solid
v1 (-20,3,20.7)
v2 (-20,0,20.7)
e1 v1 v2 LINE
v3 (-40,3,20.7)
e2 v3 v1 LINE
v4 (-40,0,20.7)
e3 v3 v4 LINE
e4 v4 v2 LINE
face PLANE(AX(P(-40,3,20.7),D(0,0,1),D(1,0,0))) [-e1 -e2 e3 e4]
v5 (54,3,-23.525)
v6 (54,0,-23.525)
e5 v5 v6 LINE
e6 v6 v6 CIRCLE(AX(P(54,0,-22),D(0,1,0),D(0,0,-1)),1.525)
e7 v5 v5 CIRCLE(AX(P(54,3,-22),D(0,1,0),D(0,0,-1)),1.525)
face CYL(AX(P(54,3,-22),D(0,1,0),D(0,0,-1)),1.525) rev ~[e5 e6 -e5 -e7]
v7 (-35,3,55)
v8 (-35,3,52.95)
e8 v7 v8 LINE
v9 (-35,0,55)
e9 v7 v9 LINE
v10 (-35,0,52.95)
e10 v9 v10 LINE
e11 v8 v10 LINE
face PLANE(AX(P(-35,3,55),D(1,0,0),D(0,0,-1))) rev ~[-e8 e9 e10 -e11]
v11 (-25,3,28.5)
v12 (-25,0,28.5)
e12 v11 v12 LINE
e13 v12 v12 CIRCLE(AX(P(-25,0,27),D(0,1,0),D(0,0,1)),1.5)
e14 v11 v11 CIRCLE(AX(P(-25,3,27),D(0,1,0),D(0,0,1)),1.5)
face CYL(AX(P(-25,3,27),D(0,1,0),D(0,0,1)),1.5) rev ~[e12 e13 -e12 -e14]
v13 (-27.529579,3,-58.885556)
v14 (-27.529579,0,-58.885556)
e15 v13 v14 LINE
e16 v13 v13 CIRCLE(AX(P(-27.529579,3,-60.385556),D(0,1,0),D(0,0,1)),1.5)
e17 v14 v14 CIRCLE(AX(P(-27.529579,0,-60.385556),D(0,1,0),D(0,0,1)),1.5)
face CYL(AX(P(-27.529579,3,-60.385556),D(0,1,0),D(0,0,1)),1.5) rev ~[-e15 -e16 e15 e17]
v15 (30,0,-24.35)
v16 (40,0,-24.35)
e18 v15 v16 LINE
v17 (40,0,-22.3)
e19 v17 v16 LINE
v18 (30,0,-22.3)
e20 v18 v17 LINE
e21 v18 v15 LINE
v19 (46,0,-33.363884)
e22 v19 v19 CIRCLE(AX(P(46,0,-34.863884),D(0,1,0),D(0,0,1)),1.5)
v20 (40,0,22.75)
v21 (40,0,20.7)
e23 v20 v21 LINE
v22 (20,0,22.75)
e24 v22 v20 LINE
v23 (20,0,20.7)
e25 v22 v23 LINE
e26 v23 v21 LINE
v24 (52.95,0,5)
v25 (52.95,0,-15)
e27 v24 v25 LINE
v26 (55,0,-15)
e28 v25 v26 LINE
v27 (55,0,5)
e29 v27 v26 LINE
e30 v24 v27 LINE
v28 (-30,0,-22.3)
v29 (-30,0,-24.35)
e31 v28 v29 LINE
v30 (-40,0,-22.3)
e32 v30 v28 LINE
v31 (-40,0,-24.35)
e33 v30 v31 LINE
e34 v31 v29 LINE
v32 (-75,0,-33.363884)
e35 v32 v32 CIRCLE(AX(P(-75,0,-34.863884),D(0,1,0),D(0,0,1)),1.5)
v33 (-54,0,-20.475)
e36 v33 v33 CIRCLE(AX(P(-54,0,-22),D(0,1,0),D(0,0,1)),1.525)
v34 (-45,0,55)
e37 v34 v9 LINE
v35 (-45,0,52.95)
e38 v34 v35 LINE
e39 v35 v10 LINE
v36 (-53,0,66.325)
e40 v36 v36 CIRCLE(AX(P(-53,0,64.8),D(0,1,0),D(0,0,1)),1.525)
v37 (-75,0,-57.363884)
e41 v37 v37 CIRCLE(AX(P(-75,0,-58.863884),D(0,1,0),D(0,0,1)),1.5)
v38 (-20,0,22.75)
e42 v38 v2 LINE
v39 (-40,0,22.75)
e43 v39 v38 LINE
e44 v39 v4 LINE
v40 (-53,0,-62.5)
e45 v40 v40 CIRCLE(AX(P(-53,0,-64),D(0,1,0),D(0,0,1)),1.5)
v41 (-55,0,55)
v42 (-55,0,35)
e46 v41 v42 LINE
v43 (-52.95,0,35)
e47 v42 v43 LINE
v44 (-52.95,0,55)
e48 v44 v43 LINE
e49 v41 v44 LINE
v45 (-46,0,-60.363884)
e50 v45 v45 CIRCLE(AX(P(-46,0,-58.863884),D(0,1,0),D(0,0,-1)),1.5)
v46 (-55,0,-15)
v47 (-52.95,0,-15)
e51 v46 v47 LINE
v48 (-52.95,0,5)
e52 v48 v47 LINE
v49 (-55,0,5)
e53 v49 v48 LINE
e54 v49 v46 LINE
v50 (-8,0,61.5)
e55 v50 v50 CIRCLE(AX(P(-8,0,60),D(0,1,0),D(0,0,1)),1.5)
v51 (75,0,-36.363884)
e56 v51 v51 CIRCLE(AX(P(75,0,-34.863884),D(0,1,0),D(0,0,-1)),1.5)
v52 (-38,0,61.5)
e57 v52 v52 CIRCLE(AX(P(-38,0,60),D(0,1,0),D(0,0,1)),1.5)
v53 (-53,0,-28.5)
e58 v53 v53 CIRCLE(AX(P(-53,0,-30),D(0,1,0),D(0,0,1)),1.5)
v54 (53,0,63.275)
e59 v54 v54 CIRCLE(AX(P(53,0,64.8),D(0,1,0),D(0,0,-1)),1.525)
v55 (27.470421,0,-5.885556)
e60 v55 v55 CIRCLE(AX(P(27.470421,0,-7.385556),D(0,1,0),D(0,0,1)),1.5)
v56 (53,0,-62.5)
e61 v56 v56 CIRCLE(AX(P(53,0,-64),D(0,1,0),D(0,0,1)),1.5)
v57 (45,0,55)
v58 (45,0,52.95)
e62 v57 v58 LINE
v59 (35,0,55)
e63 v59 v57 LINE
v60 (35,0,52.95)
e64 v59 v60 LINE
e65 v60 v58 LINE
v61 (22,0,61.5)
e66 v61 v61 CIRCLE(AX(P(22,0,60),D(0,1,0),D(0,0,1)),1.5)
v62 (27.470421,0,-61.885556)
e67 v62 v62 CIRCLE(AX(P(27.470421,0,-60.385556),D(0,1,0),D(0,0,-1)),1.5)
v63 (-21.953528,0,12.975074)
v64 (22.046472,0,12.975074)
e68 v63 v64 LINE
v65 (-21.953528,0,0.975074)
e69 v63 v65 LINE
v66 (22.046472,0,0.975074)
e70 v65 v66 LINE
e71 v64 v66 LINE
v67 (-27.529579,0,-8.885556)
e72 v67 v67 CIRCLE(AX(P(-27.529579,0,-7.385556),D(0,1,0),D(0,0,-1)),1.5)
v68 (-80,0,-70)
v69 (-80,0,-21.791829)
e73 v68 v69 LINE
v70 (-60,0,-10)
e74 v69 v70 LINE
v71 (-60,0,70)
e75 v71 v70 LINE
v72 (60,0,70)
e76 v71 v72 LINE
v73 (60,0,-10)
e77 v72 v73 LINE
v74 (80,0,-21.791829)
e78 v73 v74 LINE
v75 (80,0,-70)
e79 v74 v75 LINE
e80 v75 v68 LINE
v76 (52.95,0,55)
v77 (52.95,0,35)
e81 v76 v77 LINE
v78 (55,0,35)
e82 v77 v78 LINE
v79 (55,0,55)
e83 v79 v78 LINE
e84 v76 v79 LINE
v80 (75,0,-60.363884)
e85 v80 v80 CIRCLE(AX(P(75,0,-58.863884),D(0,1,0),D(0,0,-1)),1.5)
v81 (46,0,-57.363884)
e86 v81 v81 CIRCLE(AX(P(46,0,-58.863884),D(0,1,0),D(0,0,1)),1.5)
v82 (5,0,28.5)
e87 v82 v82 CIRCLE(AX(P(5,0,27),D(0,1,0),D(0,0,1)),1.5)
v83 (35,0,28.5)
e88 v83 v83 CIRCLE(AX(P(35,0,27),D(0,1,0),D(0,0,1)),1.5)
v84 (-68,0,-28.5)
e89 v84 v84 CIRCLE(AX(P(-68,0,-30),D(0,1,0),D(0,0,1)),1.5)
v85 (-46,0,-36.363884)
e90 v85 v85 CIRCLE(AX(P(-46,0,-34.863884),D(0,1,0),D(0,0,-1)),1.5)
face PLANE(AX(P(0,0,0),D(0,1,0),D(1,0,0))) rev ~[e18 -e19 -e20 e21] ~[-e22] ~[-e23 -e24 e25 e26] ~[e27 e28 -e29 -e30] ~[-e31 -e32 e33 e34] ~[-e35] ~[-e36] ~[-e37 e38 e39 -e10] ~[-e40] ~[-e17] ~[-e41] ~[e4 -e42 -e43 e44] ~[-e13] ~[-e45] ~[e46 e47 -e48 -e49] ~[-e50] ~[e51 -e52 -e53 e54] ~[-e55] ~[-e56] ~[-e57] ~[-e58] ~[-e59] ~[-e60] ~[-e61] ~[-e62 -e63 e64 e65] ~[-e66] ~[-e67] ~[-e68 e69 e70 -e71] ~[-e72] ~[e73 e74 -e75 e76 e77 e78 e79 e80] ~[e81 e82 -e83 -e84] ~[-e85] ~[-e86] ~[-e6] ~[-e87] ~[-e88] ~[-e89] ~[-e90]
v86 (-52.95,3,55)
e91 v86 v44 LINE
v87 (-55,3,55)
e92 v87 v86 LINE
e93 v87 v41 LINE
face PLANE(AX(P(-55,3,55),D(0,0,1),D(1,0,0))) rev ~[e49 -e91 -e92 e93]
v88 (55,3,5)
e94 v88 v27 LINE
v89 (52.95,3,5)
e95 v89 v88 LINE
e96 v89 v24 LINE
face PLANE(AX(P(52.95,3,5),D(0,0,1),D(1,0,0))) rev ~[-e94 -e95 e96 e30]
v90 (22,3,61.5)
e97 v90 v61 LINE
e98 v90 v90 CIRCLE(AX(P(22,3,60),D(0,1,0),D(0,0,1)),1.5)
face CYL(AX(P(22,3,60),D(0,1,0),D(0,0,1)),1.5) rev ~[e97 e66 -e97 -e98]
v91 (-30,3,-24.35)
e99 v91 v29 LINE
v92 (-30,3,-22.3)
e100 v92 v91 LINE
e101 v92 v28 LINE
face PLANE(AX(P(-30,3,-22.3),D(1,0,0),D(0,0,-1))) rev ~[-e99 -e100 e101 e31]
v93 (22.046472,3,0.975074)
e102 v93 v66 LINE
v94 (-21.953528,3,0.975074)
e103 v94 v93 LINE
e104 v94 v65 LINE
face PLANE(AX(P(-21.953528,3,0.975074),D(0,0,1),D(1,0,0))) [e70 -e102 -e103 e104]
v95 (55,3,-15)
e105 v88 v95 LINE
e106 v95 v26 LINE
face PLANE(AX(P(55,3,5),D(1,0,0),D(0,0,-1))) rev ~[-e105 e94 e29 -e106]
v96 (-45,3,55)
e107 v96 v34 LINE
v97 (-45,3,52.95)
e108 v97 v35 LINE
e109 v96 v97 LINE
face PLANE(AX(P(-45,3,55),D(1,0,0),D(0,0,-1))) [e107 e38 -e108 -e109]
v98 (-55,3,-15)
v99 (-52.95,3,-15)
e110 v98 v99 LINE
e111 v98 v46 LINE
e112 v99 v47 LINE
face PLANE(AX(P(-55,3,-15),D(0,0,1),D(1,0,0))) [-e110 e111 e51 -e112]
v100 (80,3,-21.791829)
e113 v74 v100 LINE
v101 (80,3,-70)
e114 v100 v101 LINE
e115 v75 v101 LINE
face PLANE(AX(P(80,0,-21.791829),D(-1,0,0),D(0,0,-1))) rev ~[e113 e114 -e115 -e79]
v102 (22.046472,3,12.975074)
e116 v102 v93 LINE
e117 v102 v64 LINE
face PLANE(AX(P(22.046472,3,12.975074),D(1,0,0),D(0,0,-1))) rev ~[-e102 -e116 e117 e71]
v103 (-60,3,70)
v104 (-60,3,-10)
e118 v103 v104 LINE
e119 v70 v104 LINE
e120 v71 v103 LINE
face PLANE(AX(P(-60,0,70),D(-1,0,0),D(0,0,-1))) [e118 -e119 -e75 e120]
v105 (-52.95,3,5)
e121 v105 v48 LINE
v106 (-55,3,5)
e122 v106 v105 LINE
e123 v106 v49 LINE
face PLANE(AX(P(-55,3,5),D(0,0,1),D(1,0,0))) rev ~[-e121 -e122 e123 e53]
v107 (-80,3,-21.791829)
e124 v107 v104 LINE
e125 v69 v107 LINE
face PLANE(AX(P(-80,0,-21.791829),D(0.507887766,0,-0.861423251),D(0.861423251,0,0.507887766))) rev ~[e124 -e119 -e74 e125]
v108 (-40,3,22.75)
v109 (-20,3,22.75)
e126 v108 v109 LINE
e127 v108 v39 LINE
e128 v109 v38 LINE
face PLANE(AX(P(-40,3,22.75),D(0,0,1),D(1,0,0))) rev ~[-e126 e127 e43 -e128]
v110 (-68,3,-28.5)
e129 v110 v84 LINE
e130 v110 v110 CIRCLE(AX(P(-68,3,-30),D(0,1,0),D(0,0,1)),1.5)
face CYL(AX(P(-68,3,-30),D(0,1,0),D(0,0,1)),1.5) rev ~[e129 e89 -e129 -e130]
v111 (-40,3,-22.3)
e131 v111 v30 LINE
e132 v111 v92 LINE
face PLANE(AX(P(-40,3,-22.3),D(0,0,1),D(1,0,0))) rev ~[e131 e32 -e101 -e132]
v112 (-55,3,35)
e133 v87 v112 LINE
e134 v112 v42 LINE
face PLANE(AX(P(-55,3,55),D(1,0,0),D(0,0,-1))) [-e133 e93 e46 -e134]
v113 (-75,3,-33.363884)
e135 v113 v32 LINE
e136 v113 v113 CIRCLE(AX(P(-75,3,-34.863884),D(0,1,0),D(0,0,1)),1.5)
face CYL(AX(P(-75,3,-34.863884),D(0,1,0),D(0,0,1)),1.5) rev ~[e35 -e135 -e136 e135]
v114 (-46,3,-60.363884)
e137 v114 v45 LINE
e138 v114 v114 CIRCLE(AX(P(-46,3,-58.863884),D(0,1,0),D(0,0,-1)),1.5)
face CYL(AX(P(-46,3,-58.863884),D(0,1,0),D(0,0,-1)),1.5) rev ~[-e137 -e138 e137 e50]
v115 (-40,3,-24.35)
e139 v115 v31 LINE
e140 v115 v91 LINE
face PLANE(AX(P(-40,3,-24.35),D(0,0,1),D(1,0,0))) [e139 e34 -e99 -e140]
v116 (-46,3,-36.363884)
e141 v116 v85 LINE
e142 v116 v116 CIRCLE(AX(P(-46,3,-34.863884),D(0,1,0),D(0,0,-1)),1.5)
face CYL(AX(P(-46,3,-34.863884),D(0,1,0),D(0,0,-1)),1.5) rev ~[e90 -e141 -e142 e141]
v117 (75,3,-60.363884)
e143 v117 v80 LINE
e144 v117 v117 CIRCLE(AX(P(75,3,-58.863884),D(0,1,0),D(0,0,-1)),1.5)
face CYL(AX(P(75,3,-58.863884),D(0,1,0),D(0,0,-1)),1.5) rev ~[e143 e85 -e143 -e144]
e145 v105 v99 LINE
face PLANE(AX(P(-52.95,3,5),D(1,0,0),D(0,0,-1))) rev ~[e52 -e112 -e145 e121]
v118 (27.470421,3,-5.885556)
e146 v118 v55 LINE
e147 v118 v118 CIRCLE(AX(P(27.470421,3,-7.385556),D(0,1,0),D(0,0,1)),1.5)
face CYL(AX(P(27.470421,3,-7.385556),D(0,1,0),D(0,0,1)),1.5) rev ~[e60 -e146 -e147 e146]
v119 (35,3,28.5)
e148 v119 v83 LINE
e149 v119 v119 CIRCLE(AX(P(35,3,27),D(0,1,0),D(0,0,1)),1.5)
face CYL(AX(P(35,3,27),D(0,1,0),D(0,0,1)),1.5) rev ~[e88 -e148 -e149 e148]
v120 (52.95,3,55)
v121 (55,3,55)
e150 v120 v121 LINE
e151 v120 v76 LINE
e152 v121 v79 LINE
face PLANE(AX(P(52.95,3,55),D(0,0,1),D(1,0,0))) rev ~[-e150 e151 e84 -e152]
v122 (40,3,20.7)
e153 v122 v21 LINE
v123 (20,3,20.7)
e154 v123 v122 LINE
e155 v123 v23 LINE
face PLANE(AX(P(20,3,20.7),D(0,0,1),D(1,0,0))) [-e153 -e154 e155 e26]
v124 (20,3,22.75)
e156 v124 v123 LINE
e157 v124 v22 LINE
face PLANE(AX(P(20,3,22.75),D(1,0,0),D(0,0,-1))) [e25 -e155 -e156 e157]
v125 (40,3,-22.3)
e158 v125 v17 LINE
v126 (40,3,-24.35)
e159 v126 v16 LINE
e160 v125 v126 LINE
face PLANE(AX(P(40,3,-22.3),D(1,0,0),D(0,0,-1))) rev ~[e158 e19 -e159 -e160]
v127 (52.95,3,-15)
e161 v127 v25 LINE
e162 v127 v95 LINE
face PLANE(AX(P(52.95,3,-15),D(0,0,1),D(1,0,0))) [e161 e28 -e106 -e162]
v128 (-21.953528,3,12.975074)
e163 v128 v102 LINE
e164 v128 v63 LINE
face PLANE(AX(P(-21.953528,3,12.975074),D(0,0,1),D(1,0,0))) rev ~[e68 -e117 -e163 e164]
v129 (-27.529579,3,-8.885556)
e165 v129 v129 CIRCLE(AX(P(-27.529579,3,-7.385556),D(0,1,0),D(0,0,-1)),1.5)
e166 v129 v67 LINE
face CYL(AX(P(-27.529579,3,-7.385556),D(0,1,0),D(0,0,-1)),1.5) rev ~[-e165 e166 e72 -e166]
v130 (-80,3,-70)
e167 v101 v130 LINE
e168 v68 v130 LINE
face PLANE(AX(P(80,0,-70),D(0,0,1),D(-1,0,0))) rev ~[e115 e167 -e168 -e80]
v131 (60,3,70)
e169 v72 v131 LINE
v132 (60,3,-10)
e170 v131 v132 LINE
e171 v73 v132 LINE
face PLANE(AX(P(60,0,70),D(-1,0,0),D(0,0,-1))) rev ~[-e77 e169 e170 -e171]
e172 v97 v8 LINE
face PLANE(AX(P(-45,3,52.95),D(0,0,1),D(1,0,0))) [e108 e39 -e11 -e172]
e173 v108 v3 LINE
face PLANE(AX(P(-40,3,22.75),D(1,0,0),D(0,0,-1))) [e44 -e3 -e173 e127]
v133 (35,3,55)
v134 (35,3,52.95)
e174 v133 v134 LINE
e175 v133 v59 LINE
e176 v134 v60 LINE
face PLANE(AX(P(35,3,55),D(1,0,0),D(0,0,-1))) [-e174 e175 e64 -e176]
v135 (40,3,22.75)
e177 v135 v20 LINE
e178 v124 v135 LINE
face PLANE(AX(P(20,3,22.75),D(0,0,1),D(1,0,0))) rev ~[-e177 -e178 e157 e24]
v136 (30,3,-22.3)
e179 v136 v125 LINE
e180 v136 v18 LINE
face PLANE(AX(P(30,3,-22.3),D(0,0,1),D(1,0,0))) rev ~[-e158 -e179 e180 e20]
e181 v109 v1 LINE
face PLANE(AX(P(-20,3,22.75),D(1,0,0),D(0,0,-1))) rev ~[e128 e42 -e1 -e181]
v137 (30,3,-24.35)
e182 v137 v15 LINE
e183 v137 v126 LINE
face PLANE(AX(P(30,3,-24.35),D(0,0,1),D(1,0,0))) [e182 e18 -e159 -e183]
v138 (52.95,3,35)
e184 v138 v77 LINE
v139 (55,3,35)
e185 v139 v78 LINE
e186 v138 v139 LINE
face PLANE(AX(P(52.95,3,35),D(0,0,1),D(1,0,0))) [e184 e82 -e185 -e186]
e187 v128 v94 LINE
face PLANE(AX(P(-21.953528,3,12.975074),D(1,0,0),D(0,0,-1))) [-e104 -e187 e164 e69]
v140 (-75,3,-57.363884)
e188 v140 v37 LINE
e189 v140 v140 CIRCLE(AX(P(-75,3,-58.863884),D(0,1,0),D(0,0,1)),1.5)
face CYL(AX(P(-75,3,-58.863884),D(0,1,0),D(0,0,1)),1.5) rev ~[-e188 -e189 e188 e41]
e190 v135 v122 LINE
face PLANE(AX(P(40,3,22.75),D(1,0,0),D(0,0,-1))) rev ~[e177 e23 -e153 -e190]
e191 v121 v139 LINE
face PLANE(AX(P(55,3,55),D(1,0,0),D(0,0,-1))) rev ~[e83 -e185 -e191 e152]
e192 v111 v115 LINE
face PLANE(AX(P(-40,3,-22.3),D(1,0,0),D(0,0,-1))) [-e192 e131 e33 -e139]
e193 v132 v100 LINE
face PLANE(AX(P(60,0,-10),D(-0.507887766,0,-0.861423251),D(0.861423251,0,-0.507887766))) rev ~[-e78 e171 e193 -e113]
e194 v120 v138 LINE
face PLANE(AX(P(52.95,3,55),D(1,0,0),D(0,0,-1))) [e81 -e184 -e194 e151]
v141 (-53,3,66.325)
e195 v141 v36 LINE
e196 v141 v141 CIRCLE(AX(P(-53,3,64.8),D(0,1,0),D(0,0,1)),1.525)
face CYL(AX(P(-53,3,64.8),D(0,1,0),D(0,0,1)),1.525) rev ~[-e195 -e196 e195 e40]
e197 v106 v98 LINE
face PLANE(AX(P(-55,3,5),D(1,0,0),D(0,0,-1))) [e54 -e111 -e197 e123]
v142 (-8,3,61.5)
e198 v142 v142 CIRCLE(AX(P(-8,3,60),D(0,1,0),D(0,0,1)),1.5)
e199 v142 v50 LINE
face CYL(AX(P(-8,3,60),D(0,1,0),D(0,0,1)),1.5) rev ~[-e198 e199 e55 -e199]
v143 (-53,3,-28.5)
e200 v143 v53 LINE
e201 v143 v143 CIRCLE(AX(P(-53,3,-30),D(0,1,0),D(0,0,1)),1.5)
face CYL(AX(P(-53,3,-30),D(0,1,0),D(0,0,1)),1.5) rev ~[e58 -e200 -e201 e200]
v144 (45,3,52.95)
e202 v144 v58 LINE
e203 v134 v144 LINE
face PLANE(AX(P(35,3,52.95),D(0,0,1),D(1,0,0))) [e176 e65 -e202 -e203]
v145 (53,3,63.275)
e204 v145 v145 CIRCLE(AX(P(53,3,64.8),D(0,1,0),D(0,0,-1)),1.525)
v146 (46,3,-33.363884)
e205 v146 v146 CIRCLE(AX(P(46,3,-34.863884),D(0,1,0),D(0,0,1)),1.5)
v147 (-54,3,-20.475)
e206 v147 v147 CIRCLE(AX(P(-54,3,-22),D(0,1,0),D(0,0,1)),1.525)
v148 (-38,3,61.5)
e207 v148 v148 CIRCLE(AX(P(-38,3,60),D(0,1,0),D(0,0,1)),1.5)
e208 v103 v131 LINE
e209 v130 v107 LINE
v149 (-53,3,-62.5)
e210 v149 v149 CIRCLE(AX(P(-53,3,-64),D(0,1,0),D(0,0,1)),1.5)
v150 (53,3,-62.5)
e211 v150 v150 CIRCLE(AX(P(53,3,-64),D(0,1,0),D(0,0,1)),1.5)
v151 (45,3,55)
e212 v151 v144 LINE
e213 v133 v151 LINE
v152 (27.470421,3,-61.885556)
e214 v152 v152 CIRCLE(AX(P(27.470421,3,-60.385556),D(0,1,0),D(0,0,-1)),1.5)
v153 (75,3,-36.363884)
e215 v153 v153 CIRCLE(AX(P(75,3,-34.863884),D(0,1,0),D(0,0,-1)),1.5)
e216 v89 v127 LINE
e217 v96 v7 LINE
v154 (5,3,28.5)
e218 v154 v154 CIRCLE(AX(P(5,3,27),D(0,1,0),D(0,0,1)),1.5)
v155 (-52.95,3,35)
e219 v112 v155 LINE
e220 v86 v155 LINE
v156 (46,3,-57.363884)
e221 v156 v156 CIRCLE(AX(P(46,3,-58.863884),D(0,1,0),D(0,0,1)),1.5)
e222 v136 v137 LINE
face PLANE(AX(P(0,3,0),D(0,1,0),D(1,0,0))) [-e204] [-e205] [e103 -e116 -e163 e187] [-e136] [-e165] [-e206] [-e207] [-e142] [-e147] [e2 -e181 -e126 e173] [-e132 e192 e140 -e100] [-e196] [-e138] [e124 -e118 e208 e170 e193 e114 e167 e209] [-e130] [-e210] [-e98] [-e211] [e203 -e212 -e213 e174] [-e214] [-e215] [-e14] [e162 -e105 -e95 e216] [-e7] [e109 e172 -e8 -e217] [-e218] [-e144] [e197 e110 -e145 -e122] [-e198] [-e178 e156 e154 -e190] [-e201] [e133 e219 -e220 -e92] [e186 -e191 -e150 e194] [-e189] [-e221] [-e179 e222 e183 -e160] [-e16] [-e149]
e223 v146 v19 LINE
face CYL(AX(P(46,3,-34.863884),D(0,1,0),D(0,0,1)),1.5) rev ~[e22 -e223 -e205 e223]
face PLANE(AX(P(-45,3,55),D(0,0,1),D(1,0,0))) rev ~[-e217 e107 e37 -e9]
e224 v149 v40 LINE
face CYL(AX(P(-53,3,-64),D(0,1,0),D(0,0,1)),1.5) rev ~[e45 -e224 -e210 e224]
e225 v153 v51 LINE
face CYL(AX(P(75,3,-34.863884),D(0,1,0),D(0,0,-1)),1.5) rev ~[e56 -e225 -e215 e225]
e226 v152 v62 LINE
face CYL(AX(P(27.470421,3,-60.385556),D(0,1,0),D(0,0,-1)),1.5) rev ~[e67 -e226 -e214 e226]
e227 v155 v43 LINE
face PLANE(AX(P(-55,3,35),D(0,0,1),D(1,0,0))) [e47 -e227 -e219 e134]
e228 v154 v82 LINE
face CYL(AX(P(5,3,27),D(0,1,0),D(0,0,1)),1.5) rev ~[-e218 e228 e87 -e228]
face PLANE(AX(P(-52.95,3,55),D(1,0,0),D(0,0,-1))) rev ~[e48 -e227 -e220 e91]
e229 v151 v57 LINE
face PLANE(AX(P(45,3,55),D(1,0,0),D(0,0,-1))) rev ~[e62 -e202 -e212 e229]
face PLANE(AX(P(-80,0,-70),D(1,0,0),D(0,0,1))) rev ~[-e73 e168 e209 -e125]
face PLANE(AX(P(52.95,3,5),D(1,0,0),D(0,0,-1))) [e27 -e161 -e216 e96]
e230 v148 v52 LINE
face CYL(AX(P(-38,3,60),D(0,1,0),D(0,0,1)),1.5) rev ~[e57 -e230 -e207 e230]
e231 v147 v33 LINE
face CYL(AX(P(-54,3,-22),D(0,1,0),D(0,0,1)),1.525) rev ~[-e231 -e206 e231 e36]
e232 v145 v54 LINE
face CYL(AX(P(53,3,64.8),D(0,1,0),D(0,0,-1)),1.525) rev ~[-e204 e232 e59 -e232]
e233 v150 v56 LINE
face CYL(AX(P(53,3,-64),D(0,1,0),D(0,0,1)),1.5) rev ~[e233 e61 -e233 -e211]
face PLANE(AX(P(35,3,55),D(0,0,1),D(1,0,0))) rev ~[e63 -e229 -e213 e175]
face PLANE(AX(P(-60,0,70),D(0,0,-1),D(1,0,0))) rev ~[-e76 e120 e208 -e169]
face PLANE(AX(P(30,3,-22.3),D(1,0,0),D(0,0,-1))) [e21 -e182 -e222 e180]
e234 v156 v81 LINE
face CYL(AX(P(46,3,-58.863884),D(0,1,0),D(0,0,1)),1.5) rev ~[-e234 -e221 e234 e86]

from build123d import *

# Parameters (mm, degrees)
SKETCH1_W           = 120
SKETCH1_H           = 140
BOSS_EXTRUDE1_DEPTH = 3
SKETCH2_R           = 1.5
CUT_EXTRUDE1_DEPTH  = 107.343782141
SKETCH3_R           = 1.5
CUT_EXTRUDE3_DEPTH  = 107.343782141
SKETCH4_R           = 1.5
CUT_EXTRUDE4_DEPTH  = 107.343782141
SKETCH5_R           = 1.5
CUT_EXTRUDE5_DEPTH  = 3
SKETCH6_R           = 1.525
SKETCH6_W           = 10
SKETCH6_H           = 2.05
SKETCH6_W_2         = 20
CUT_EXTRUDE7_DEPTH  = 107.343782141
SKETCH9_R           = 1.525
CUT_EXTRUDE8_DEPTH  = 3
SKETCH10_W          = 44
SKETCH10_H          = 12
CUT_EXTRUDE9_DEPTH  = 5
SKETCH11_R          = 1.5
CUT_EXTRUDE10_DEPTH = 5
SKETCH12_W          = 2.05
SKETCH12_H          = 20
CUT_EXTRUDE11_DEPTH = 10


with BuildPart() as part:
    # Sketch1 → Boss-Extrude1 (new body)
    with BuildSketch(Plane(origin=(0, 0, 0), x_dir=(1, 0, 0), z_dir=(0, 1, 0))):
        Rectangle(SKETCH1_W, SKETCH1_H)
        Polygon((-80, 21.791828604), (-60, 10), (-60, 70), (-80, 70), align=None)
        Polygon((80, 70), (60, 70), (60, 10), (80, 21.791828604), align=None)
    extrude(amount=BOSS_EXTRUDE1_DEPTH)

    # Sketch2 → Cut-Extrude1 (cut, through all)
    with BuildSketch(Plane(origin=(0, 3, 0), x_dir=(1, 0, 0), z_dir=(0, 1, 0))):
        with Locations(Location((-38, -60, 0), (0, 0, 270))):
            Circle(SKETCH2_R)
        with Locations(Location((-25, -27, 0), (0, 0, 270))):
            Circle(SKETCH2_R)
        with Locations(Location((5, -27, 0), (0, 0, 270))):
            Circle(SKETCH2_R)
        with Locations(Location((-8, -60, 0), (0, 0, 270))):
            Circle(SKETCH2_R)
        with Locations(Location((35, -27, 0), (0, 0, 270))):
            Circle(SKETCH2_R)
        with Locations(Location((22, -60, 0), (0, 0, 270))):
            Circle(SKETCH2_R)
    extrude(amount=-CUT_EXTRUDE1_DEPTH, mode=Mode.SUBTRACT)

    # Sketch3 → Cut-Extrude3 (cut, through all)
    with BuildSketch(Plane(origin=(0, 3, 0), x_dir=(1, 0, 0), z_dir=(0, 1, 0))):
        with Locations(Location((-27.529579069, 60.385555627, 0), (0, 0, 270))):
            Circle(SKETCH3_R)
        with Locations(Location((-27.529579069, 7.385555627, 0), (0, 0, 90))):
            Circle(SKETCH3_R)
        with Locations(Location((27.470420931, 7.385555627, 0), (0, 0, 270))):
            Circle(SKETCH3_R)
        with Locations(Location((27.470420931, 60.385555627, 0), (0, 0, 90))):
            Circle(SKETCH3_R)
    extrude(amount=-CUT_EXTRUDE3_DEPTH, mode=Mode.SUBTRACT)

    # Sketch4 → Cut-Extrude4 (cut, through all)
    with BuildSketch(Plane(origin=(0, 3, 0), x_dir=(1, 0, 0), z_dir=(0, 1, 0))):
        with Locations(Location((-75, 34.863883517, 0), (0, 0, 270))):
            Circle(SKETCH4_R)
        with Locations(Location((-75, 58.863883517, 0), (0, 0, 270))):
            Circle(SKETCH4_R)
        with Locations(Location((-46, 34.863883517, 0), (0, 0, 90))):
            Circle(SKETCH4_R)
        with Locations(Location((-46, 58.863883517, 0), (0, 0, 90))):
            Circle(SKETCH4_R)
        with Locations(Location((46, 58.863883517, 0), (0, 0, 270))):
            Circle(SKETCH4_R)
        with Locations(Location((46, 34.863883517, 0), (0, 0, 270))):
            Circle(SKETCH4_R)
        with Locations(Location((75, 34.863883517, 0), (0, 0, 90))):
            Circle(SKETCH4_R)
        with Locations(Location((75, 58.863883517, 0), (0, 0, 90))):
            Circle(SKETCH4_R)
    extrude(amount=-CUT_EXTRUDE4_DEPTH, mode=Mode.SUBTRACT)

    # Sketch5 → Cut-Extrude5 (cut)
    with BuildSketch(Plane(origin=(0, 3, 0), x_dir=(1, 0, 0), z_dir=(0, 1, 0))):
        with Locations(Location((-68, 30, 0), (0, 0, 270))):
            Circle(SKETCH5_R)
        with Locations(Location((-53, 30, 0), (0, 0, 270))):
            Circle(SKETCH5_R)
    extrude(amount=-CUT_EXTRUDE5_DEPTH, mode=Mode.SUBTRACT)

    # Sketch6 → Cut-Extrude7 (cut, through all)
    with BuildSketch(Plane(origin=(0, 3, 0), x_dir=(1, 0, 0), z_dir=(0, 1, 0))):
        with Locations(Location((-53, -64.8, 0), (0, 0, 270))):
            Circle(SKETCH6_R)
        with Locations(Location((53, -64.8, 0), (0, 0, 90))):
            Circle(SKETCH6_R)
        with Locations((-40, -53.975)):
            Rectangle(SKETCH6_W, SKETCH6_H)
        with Locations((40, -53.975)):
            Rectangle(SKETCH6_W, SKETCH6_H)
        with Locations((30, -21.725)):
            Rectangle(SKETCH6_W_2, SKETCH6_H)
        with Locations((-30, -21.725)):
            Rectangle(SKETCH6_W_2, SKETCH6_H)
        with Locations((35, 23.325)):
            Rectangle(SKETCH6_W, SKETCH6_H)
        with Locations((-35, 23.325)):
            Rectangle(SKETCH6_W, SKETCH6_H)
    extrude(amount=-CUT_EXTRUDE7_DEPTH, mode=Mode.SUBTRACT)

    # Sketch9 → Cut-Extrude8 (cut)
    with BuildSketch(Plane(origin=(0, 3, 0), x_dir=(1, 0, 0), z_dir=(0, 1, 0))):
        with Locations(Location((-54, 22, 0), (0, 0, 270))):
            Circle(SKETCH9_R)
        with Locations(Location((54, 22, 0), (0, 0, 90))):
            Circle(SKETCH9_R)
    extrude(amount=-CUT_EXTRUDE8_DEPTH, mode=Mode.SUBTRACT)

    # Sketch10 → Cut-Extrude9 (cut)
    with BuildSketch(Plane(origin=(0, 3, 0), x_dir=(1, 0, 0), z_dir=(0, 1, 0))):
        with Locations((0.046472237, -6.975074484)):
            Rectangle(SKETCH10_W, SKETCH10_H)
    extrude(amount=-CUT_EXTRUDE9_DEPTH, mode=Mode.SUBTRACT)

    # Sketch11 → Cut-Extrude10 (cut)
    with BuildSketch(Plane(origin=(0, 3, 0), x_dir=(1, 0, 0), z_dir=(0, 1, 0))):
        with Locations(Location((-53, 64, 0), (0, 0, 270))):
            Circle(SKETCH11_R)
        with Locations(Location((53, 64, 0), (0, 0, 270))):
            Circle(SKETCH11_R)
    extrude(amount=-CUT_EXTRUDE10_DEPTH, mode=Mode.SUBTRACT)

    # Sketch12 → Cut-Extrude11 (cut)
    with BuildSketch(Plane(origin=(0, 3, 0), x_dir=(1, 0, 0), z_dir=(0, 1, 0))):
        with Locations((-53.975, 5)):
            Rectangle(SKETCH12_W, SKETCH12_H)
        with Locations((-53.975, -45)):
            Rectangle(SKETCH12_W, SKETCH12_H)
        with Locations((53.975, -45)):
            Rectangle(SKETCH12_W, SKETCH12_H)
        with Locations((53.975, 5)):
            Rectangle(SKETCH12_W, SKETCH12_H)
    extrude(amount=-CUT_EXTRUDE11_DEPTH, mode=Mode.SUBTRACT)


solid = part.part
